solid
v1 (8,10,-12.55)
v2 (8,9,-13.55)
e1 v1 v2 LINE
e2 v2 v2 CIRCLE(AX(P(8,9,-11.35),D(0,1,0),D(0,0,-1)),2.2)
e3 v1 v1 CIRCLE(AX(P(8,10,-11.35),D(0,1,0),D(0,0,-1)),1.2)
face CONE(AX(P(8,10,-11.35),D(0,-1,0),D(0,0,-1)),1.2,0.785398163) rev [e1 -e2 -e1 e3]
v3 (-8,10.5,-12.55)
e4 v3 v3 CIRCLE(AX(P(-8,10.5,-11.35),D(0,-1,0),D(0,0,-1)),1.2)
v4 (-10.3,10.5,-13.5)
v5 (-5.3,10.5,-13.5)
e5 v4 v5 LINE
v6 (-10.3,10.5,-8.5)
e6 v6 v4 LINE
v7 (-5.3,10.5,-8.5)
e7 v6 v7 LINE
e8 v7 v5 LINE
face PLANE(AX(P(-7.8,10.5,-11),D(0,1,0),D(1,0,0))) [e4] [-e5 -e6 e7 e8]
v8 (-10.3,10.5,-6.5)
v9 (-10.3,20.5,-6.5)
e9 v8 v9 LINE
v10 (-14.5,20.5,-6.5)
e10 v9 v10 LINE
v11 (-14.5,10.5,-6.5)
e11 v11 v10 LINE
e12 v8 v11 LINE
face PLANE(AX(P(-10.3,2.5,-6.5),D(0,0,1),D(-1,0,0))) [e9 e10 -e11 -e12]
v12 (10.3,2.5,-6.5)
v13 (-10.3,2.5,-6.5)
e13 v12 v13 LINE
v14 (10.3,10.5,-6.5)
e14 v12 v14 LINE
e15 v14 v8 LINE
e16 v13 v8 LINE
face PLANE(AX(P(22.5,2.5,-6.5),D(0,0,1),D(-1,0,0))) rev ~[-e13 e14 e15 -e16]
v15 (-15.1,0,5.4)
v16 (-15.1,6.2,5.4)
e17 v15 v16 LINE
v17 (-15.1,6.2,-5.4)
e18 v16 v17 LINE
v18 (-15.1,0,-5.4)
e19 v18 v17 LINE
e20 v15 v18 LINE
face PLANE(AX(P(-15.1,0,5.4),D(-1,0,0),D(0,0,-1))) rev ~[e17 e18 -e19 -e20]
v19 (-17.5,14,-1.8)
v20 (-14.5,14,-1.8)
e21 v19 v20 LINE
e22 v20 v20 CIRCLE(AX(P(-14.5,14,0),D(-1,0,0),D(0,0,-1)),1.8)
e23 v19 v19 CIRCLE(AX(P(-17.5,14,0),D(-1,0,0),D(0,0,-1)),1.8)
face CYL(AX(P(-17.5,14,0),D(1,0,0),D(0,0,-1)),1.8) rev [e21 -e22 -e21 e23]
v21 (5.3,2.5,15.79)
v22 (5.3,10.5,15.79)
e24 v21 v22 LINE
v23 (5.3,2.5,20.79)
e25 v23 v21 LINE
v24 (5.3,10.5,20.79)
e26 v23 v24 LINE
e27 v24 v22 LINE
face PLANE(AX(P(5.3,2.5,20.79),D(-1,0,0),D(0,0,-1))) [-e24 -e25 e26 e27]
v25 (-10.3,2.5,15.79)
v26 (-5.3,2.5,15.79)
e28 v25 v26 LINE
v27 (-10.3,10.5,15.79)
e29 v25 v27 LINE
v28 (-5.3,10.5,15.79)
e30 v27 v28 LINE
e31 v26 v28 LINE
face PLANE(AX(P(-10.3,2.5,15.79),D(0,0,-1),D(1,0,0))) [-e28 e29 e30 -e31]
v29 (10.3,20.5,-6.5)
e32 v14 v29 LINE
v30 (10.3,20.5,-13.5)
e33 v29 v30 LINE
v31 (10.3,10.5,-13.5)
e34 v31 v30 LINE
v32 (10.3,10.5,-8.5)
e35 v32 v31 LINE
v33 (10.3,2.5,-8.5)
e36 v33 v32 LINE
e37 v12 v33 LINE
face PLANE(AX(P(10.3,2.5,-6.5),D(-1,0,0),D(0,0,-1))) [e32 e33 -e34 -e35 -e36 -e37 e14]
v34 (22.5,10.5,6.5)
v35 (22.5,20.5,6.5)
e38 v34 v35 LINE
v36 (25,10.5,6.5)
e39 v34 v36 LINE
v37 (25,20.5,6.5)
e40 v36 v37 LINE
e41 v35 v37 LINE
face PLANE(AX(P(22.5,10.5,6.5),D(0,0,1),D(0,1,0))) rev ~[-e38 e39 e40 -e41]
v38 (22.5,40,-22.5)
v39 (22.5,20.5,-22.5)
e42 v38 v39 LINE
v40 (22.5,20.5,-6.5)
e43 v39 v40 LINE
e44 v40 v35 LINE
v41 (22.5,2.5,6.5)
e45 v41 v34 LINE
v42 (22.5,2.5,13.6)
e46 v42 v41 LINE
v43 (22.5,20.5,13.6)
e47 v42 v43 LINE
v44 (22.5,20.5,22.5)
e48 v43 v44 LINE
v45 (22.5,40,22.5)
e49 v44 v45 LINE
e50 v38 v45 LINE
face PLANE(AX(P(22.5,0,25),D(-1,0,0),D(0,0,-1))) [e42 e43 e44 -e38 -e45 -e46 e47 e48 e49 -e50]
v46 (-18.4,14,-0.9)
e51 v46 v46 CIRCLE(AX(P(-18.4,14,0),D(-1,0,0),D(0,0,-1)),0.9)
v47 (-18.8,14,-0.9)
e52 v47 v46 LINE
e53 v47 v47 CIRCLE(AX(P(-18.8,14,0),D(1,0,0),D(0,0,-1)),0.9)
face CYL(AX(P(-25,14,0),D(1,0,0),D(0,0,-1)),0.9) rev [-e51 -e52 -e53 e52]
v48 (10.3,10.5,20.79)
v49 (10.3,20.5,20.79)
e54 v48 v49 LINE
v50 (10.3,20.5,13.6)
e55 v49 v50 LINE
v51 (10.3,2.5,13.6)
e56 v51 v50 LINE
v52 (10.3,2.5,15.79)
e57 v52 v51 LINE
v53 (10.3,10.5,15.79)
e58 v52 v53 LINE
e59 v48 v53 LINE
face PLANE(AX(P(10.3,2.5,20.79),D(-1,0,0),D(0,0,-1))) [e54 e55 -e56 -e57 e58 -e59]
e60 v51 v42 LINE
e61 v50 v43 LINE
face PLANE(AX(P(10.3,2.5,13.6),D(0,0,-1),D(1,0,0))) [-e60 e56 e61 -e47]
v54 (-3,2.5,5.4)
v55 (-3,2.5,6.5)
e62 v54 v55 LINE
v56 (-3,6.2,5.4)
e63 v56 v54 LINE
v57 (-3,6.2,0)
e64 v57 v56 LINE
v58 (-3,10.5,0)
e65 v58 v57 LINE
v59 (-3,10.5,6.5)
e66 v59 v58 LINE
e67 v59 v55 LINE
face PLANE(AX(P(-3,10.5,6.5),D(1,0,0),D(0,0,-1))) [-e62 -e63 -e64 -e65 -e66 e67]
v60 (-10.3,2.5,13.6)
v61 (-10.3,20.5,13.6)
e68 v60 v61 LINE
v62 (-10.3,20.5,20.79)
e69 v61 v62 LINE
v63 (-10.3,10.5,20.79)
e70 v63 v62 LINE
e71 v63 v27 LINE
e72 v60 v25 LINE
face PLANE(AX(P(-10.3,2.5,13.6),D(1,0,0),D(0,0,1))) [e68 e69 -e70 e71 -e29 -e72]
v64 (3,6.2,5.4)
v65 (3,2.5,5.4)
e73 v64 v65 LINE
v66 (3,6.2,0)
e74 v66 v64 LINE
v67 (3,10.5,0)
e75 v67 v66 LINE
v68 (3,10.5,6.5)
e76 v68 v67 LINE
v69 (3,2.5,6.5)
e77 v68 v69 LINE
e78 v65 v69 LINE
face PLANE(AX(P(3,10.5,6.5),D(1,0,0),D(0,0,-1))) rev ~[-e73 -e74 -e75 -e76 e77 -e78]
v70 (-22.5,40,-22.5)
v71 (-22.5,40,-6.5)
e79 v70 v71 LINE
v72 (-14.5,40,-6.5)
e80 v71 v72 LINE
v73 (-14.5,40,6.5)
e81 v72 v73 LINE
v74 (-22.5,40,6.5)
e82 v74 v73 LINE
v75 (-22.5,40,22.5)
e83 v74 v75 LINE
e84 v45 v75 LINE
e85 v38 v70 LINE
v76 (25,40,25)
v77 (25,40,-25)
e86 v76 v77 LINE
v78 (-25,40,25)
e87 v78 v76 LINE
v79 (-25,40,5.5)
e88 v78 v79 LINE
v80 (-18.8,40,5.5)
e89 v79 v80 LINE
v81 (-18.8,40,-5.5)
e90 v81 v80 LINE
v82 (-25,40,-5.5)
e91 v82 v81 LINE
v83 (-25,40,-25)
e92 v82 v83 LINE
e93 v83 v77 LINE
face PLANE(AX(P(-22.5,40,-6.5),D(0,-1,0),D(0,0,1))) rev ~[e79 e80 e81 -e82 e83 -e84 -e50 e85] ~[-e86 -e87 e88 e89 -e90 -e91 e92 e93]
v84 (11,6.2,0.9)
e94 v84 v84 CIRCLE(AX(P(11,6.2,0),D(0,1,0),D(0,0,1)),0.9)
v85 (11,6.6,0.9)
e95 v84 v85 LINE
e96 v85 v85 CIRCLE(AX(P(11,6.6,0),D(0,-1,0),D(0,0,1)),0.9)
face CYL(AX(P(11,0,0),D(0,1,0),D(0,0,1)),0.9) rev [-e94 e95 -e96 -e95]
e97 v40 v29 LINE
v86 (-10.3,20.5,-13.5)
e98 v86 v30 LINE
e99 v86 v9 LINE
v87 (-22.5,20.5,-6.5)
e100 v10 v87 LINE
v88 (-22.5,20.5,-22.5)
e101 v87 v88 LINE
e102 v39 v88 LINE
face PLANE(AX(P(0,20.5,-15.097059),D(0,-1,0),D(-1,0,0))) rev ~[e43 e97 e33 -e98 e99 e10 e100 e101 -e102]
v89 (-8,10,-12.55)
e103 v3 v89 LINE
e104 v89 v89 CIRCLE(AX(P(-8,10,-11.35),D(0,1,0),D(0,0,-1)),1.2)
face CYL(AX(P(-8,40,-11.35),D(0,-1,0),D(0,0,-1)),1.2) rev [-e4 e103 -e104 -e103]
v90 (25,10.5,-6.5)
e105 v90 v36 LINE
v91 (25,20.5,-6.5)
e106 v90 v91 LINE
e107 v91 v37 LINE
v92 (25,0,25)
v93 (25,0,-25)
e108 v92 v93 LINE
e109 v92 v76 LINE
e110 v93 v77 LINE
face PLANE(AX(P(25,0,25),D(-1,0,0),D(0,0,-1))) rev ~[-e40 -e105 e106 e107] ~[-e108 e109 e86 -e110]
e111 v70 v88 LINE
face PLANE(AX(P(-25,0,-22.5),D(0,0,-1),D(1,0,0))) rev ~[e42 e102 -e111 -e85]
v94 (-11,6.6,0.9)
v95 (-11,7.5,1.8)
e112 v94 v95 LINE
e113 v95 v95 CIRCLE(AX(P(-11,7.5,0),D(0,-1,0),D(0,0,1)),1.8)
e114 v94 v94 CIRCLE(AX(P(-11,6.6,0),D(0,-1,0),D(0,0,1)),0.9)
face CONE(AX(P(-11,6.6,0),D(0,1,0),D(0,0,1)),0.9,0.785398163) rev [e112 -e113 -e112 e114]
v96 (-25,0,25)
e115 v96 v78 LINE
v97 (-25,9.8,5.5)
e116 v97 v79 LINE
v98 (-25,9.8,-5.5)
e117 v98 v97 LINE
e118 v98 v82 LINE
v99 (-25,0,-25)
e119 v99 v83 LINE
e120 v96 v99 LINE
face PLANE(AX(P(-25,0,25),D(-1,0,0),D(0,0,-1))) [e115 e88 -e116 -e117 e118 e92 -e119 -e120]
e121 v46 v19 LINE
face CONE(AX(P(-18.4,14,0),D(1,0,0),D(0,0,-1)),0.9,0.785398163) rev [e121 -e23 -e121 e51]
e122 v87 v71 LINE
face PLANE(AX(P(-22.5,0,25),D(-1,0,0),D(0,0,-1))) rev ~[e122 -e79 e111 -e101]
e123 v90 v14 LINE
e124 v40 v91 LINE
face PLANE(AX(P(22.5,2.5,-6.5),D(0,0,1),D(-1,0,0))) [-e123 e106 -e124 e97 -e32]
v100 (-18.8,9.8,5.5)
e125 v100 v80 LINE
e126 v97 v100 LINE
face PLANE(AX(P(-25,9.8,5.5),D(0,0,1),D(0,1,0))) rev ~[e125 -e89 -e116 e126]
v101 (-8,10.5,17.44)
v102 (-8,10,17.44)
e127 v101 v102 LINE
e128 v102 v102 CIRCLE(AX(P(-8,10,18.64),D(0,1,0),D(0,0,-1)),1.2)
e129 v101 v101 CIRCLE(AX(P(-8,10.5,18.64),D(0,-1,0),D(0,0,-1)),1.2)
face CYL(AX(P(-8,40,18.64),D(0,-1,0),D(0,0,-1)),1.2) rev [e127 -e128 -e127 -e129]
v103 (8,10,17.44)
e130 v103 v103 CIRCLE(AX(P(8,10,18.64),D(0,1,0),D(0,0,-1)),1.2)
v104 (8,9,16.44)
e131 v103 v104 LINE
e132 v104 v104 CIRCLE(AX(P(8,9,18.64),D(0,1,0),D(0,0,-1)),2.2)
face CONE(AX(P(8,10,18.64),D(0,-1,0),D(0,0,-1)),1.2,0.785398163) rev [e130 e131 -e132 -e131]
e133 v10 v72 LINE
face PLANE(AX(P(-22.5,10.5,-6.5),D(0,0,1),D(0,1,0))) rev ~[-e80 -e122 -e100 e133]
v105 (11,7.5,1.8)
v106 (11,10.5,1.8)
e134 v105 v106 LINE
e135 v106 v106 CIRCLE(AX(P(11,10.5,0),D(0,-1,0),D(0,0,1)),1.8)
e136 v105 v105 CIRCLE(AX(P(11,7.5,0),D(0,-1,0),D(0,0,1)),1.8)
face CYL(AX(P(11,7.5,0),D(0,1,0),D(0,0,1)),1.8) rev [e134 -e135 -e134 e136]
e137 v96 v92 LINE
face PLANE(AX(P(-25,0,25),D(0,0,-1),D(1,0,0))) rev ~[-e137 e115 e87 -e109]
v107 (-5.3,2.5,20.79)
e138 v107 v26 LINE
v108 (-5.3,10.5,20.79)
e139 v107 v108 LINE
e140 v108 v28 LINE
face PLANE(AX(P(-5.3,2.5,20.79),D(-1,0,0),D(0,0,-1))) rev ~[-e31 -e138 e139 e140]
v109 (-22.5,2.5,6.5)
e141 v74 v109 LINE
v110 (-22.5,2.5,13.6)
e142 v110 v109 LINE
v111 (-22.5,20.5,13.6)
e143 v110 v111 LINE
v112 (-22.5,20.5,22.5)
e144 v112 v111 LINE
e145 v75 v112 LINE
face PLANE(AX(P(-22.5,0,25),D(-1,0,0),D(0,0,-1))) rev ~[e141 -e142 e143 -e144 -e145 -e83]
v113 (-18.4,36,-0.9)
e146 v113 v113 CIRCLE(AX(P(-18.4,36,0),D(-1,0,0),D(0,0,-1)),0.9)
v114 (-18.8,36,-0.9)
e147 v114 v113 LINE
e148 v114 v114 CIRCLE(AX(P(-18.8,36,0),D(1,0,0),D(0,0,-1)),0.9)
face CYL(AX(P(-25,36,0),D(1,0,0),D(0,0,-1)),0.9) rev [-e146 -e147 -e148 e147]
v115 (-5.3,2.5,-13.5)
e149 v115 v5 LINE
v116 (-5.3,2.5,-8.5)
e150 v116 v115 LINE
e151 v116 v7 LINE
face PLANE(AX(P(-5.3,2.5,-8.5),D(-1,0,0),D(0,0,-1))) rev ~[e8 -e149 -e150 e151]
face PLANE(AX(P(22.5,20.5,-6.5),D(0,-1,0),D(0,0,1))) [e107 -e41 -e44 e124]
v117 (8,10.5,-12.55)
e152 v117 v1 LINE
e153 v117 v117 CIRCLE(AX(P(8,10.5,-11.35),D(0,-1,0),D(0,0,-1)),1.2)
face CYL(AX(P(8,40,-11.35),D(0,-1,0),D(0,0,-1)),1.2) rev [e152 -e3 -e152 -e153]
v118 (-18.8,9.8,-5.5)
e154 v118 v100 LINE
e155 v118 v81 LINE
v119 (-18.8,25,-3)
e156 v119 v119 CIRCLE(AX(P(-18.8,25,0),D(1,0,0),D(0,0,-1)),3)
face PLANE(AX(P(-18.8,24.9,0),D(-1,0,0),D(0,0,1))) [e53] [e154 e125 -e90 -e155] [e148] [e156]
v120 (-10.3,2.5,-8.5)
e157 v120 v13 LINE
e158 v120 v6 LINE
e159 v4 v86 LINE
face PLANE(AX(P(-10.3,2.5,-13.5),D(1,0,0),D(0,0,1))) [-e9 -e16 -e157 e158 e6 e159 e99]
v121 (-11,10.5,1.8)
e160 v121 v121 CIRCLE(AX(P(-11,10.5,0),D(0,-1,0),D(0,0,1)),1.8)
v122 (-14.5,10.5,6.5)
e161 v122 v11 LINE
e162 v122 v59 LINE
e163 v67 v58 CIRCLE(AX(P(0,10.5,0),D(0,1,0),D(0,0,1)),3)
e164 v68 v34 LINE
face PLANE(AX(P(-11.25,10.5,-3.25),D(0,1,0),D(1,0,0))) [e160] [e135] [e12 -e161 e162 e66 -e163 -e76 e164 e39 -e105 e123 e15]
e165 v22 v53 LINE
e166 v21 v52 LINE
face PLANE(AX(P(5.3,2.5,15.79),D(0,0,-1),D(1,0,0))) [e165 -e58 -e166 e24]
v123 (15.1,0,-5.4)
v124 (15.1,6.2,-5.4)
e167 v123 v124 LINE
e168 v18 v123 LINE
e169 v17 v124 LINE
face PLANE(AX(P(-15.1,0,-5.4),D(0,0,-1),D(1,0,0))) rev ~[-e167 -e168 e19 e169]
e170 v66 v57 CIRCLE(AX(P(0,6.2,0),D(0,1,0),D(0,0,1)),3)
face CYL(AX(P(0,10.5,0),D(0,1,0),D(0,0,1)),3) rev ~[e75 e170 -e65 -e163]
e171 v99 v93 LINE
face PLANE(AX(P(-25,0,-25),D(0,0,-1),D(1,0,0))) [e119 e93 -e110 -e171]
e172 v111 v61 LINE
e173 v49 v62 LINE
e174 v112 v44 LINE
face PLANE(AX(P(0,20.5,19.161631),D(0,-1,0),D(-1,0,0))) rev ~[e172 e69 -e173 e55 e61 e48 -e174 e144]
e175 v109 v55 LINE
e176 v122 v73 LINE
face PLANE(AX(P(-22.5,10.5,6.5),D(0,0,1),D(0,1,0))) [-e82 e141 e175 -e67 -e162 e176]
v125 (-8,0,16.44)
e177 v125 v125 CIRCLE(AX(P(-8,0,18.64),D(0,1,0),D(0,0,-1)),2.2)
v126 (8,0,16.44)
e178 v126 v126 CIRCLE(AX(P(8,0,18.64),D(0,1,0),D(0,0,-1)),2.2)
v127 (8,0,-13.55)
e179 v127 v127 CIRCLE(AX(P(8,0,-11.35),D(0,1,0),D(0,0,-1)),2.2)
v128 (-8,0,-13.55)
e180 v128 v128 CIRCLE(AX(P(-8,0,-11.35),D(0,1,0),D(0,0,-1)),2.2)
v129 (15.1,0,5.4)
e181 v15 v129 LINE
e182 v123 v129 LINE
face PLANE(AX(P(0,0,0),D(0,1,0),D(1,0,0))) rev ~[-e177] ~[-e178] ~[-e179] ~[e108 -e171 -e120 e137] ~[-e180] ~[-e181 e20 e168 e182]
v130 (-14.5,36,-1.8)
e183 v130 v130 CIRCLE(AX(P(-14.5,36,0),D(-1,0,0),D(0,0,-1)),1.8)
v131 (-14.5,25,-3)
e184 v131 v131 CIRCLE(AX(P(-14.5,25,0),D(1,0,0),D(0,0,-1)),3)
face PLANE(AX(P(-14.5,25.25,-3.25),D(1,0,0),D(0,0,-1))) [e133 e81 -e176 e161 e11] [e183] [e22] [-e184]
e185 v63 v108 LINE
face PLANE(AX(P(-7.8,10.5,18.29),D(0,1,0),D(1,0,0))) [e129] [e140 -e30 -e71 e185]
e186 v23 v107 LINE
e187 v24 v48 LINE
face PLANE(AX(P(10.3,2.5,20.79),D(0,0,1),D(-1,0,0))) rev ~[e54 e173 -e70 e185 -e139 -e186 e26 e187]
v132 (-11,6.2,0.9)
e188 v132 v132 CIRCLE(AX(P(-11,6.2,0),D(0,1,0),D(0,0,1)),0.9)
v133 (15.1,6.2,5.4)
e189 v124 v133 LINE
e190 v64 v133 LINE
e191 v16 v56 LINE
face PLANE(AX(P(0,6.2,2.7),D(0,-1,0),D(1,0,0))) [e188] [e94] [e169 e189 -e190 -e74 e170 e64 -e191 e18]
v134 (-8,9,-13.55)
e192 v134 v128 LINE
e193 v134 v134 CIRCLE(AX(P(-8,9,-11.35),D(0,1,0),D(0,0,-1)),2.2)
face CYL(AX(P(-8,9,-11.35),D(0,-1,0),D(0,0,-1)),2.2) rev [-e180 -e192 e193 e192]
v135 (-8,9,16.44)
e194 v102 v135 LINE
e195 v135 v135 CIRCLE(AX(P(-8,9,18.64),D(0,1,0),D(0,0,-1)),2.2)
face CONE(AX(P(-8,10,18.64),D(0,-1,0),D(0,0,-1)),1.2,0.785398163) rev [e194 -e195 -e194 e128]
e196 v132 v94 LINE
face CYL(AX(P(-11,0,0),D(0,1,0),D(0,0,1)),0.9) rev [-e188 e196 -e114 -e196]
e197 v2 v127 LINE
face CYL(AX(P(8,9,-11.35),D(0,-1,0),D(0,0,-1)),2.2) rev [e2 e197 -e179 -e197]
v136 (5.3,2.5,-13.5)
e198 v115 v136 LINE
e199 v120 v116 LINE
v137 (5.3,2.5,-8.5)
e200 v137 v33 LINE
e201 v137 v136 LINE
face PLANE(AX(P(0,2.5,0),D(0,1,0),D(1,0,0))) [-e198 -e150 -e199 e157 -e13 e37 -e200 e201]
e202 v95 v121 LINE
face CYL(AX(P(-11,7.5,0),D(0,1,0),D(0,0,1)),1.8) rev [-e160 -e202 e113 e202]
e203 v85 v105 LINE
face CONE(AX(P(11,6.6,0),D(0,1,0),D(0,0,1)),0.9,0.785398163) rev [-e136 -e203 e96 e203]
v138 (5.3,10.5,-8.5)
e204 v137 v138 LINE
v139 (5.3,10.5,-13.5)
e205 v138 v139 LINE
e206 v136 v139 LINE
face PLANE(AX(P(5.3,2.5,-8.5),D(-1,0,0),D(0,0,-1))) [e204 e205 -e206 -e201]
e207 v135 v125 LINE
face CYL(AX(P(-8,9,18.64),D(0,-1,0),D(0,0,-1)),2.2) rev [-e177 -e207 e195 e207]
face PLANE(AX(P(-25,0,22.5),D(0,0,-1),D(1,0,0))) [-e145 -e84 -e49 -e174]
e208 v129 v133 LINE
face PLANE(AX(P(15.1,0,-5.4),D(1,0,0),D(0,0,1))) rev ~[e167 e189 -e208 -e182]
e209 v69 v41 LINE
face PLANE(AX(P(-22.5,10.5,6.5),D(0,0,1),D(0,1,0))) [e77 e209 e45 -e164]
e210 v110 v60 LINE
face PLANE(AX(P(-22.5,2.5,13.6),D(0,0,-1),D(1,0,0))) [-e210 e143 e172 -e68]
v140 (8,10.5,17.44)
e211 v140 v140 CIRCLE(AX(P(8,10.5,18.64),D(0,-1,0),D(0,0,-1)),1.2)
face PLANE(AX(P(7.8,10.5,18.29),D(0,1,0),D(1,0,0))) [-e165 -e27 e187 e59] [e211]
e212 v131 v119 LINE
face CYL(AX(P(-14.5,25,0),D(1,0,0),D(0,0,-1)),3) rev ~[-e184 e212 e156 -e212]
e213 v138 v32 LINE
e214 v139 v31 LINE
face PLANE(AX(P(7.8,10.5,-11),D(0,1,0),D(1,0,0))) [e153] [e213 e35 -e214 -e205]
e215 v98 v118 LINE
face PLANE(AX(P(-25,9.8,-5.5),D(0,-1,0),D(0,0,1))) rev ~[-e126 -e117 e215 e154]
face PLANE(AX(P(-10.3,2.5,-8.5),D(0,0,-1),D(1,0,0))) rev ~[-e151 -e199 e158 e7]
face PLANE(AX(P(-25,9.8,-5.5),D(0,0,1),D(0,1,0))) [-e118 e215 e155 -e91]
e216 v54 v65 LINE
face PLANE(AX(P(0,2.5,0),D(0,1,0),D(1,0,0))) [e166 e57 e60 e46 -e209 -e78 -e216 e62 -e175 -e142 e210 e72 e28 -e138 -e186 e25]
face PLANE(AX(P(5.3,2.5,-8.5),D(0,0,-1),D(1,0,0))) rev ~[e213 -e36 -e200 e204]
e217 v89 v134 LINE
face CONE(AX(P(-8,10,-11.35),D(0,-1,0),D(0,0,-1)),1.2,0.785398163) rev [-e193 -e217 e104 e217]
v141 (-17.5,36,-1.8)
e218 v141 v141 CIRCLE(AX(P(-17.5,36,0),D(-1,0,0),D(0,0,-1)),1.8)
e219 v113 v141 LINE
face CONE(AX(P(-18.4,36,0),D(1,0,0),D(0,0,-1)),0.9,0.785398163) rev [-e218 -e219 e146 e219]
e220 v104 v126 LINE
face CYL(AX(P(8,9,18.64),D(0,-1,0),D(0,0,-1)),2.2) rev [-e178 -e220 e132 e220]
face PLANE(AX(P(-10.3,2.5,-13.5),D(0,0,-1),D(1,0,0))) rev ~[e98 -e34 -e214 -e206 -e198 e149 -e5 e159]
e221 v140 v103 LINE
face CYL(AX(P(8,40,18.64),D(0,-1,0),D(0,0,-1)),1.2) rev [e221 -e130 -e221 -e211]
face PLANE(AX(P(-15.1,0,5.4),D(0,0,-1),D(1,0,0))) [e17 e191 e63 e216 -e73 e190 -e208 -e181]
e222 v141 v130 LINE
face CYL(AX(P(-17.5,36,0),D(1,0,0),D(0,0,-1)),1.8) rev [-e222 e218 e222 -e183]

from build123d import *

# Parameters (mm, degrees)
SKETCH1_W                                      = 50
SKETCH1_H                                      = 50
BOSS_EXTRUDE1_DEPTH                            = 40
SHELL1_T                                       = -2.5
BOSS_EXTRUDE5_DEPTH                            = 18
SKETCH17_W                                     = 22.5
SKETCH17_H                                     = 6.5
BOSS_EXTRUDE6_DEPTH                            = 8
SKETCH18_W                                     = 6.5
SKETCH18_H                                     = 29.5
BOSS_EXTRUDE7_DEPTH                            = 8
SKETCH19_W                                     = 11
SKETCH19_H                                     = 30.2
CUT_EXTRUDE5_DEPTH                             = 6.2
SKETCH20_W                                     = 30.2
SKETCH20_H                                     = 5.4
CUT_EXTRUDE6_DEPTH                             = 6.2
SKETCH21_W                                     = 5
SKETCH21_H                                     = 5
BOSS_EXTRUDE8_DEPTH                            = 8
CSK_SLOT_FOR_M1_6_COUNTERSUNK_FLAT_H_2_COUNT   = 2
CSK_SLOT_FOR_M1_6_COUNTERSUNK_FLAT_H_2_PITCH   = 22
SKETCH28_R                                     = 3
CUT_EXTRUDE7_DEPTH                             = 47.046172479
CSK_SLOT_FOR_M1_6_COUNTERSUNK_FLAT_H_3_A_COUNT = 2
CSK_SLOT_FOR_M1_6_COUNTERSUNK_FLAT_H_3_A_PITCH = 22
SKETCH32_R                                     = 3
CUT_EXTRUDE8_DEPTH                             = 62.524385409
CUT_EXTRUDE10_REACH                            = 48.046
SKETCH34_W                                     = 6
SKETCH34_H                                     = 6.5
SKETCH35_W                                     = 5
SKETCH35_H                                     = 5
BOSS_EXTRUDE9_DEPTH                            = 8
CSK_SLOT_FOR_M2_COUNTERSUNK_FLAT_HEA_2_COUNT   = 2
CSK_SLOT_FOR_M2_COUNTERSUNK_FLAT_HEA_2_PITCH   = 29.99
CSK_SLOT_FOR_M2_COUNTERSUNK_FLAT_HEA_3_COUNT   = 2
CSK_SLOT_FOR_M2_COUNTERSUNK_FLAT_HEA_3_PITCH   = 16
CSK_SLOT_FOR_M2_COUNTERSUNK_FLAT_HEA_4_COUNT   = 2
CSK_SLOT_FOR_M2_COUNTERSUNK_FLAT_HEA_4_PITCH   = 33.991176796
SKETCH38_W                                     = 13
SKETCH38_H                                     = 10
CUT_EXTRUDE11_DEPTH                            = 10


with BuildPart() as part:
    # Sketch1 → Boss-Extrude1 (new body)
    with BuildSketch(Plane(origin=(0, 0, 0), x_dir=(1, 0, 0), z_dir=(0, 1, 0))):
        Rectangle(SKETCH1_W, SKETCH1_H)
    extrude(amount=BOSS_EXTRUDE1_DEPTH)

    # Shell1
    shell1_openings = [part.faces().sort_by_distance(p)[0] for p in [
        (0, 40, 0),
    ]]
    offset(amount=SHELL1_T, openings=shell1_openings, kind=Kind.INTERSECTION)

    # Sketch16 → Boss-Extrude5 (add)
    with BuildSketch(Plane(origin=(0, 2.5, 0), x_dir=(1, 0, 0), z_dir=(0, 1, 0))):
        Polygon((-10.3, 6.5), (-22.5, 6.5), (-22.5, 22.5), (-5.169122612, 22.5), (22.5, 22.5), (22.5, 6.5), (10.3, 6.5), (10.3, 13.5), (-5.169122612, 13.5), (-10.3, 13.5), align=None)
        Polygon((10.3, -13.6), (22.5, -13.6), (22.5, -22.5), (-4.979068663, -22.5), (-22.5, -22.5), (-22.5, -13.6), (-10.3, -13.6), (-10.3, -20.79), (-4.979068663, -20.79), (10.3, -20.79), align=None)
    extrude(amount=BOSS_EXTRUDE5_DEPTH)

    # Sketch17 → Boss-Extrude6 (add)
    with BuildSketch(Plane(origin=(0, 2.5, 0), x_dir=(1, 0, 0), z_dir=(0, 1, 0))):
        Polygon((0, 0), (0, 6.5), (-10.3, 6.5), (-22.5, 6.5), (-22.5, 0), align=None)
        with Locations((-11.25, -3.25)):
            Rectangle(SKETCH17_W, SKETCH17_H)
        Polygon((10.3, 6.5), (0, 6.5), (0, 0), (0, -6.5), (22.5, -6.5), (22.5, 6.5), align=None)
    extrude(amount=BOSS_EXTRUDE6_DEPTH)

    # Sketch18 → Boss-Extrude7 (add)
    with BuildSketch(Plane(origin=(-22.5, 0, 0), x_dir=(0, 0, -1), z_dir=(1, 0, 0))):
        Polygon((6.5, 40), (0, 40), (0, 10.5), (6.5, 10.5), (6.5, 20.5), align=None)
        with Locations((-3.25, 25.25)):
            Rectangle(SKETCH18_W, SKETCH18_H)
    extrude(amount=BOSS_EXTRUDE7_DEPTH)

    # Sketch19 → Cut-Extrude5 (cut)
    with BuildSketch(Plane.ZY.offset(25)):
        with Locations((0, 24.9)):
            Rectangle(SKETCH19_W, SKETCH19_H)
    extrude(amount=-CUT_EXTRUDE5_DEPTH, mode=Mode.SUBTRACT)

    # Sketch20 → Cut-Extrude6 (cut)
    with BuildSketch(Plane.XZ):
        with Locations((0, 2.7)):
            Rectangle(SKETCH20_W, SKETCH20_H)
        with Locations((0, -2.7)):
            Rectangle(SKETCH20_W, SKETCH20_H)
    extrude(amount=-CUT_EXTRUDE6_DEPTH, mode=Mode.SUBTRACT)

    # Sketch21 → Boss-Extrude8 (add)
    with BuildSketch(Plane(origin=(0, 2.5, 0), x_dir=(1, 0, 0), z_dir=(0, 1, 0))):
        with Locations((7.8, -18.29)):
            Rectangle(SKETCH21_W, SKETCH21_H)
        with Locations((-7.8, -18.29)):
            Rectangle(SKETCH21_W, SKETCH21_H)
    extrude(amount=BOSS_EXTRUDE8_DEPTH)

    # Sketch26 → CSK SLOT for M1.6 Countersunk Flat Head (revolve, cut)
    with BuildSketch(Plane(origin=(-11, 10.5, 0), x_dir=(0, 0, 1), z_dir=(1, 0, 0))):
        Polygon((0, 0), (0, 10.5), (0.9, 10.5), (0.9, 3.9), (1.8, 3), (1.8, 0), align=None)
    csk_slot_for_m1_6_countersunk_flat_head = revolve(axis=Axis((-11, 16.85, 0), (0, -1, 0)), mode=Mode.SUBTRACT)

    # CSK SLOT for M1.6 Countersunk Flat H 2: CSK SLOT for M1.6 Countersunk Flat Head ×2
    with Locations(*[(i * CSK_SLOT_FOR_M1_6_COUNTERSUNK_FLAT_H_2_PITCH, 0, 0) for i in range(1, CSK_SLOT_FOR_M1_6_COUNTERSUNK_FLAT_H_2_COUNT)]):
        add(csk_slot_for_m1_6_countersunk_flat_head, mode=Mode.SUBTRACT)

    # Sketch28 → Cut-Extrude7 (cut, through all)
    with BuildSketch(Plane(origin=(0, 10.5, 0), x_dir=(1, 0, 0), z_dir=(0, 1, 0))):
        with Locations(Location((0, 0, 0), (0, 0, 270))):
            Circle(SKETCH28_R)
    extrude(amount=-CUT_EXTRUDE7_DEPTH, mode=Mode.SUBTRACT)

    # Sketch31 → CSK SLOT for M1.6 Countersunk Flat H 3 (revolve, cut)
    with BuildSketch(Plane(origin=(-14.5, 36, 0), x_dir=(0, 0, -1), z_dir=(0, 1, 0))):
        Polygon((0, 0), (0, 10.5), (0.9, 10.5), (0.9, 3.9), (1.8, 3), (1.8, 0), align=None)
    csk_slot_for_m1_6_countersunk_flat_h_3 = revolve(axis=Axis((-8.15, 36, 0), (-1, 0, 0)), mode=Mode.SUBTRACT)

    # CSK SLOT for M1.6 Countersunk Flat H 3 a: CSK SLOT for M1.6 Countersunk Flat H 3 ×2
    with Locations(*[(0, -i * CSK_SLOT_FOR_M1_6_COUNTERSUNK_FLAT_H_3_A_PITCH, 0) for i in range(1, CSK_SLOT_FOR_M1_6_COUNTERSUNK_FLAT_H_3_A_COUNT)]):
        add(csk_slot_for_m1_6_countersunk_flat_h_3, mode=Mode.SUBTRACT)

    # Sketch32 → Cut-Extrude8 (cut, through all)
    with BuildSketch(Plane(origin=(-14.5, 0, 0), x_dir=(0, 0, -1), z_dir=(1, 0, 0))):
        with Locations((0, 25)):
            Circle(SKETCH32_R)
    extrude(amount=-CUT_EXTRUDE8_DEPTH, mode=Mode.SUBTRACT)

    # Cut-Extrude10: up to this face of the body (flat: up to its plane)
    cut_extrude10_end = Plane(part.part.faces().sort_by_distance((0, 2.5, 11.597540384))[0])
    # Sketch34 → Cut-Extrude10 (cut, up to the picked face)
    with BuildSketch(Plane(origin=(0, 10.5, 0), x_dir=(1, 0, 0), z_dir=(0, 1, 0)), mode=Mode.PRIVATE) as cut_extrude10_sk1:
        with Locations((0, -3.25)):
            Rectangle(SKETCH34_W, SKETCH34_H)
    cut_extrude10_tool1 = split(extrude(cut_extrude10_sk1.sketch, amount=-CUT_EXTRUDE10_REACH, mode=Mode.PRIVATE), bisect_by=cut_extrude10_end, keep=Keep.BOTH, mode=Mode.PRIVATE)
    add(cut_extrude10_tool1.solids().sort_by(Axis((0, 10.5, 3.25), (0, -1, 0)))[0], mode=Mode.SUBTRACT)

    # Sketch35 → Boss-Extrude9 (add)
    with BuildSketch(Plane(origin=(0, 2.5, 0), x_dir=(1, 0, 0), z_dir=(0, 1, 0))):
        with Locations((-7.8, 11)):
            Rectangle(SKETCH35_W, SKETCH35_H)
        with Locations((7.8, 11)):
            Rectangle(SKETCH35_W, SKETCH35_H)
    extrude(amount=BOSS_EXTRUDE9_DEPTH)

    # Sketch37 → CSK SLOT for M2 Countersunk Flat Head Screw1 (revolve, cut)
    with BuildSketch(Plane(origin=(8, 0, 18.64), x_dir=(0, 0, -1), z_dir=(1, 0, 0))):
        Polygon((0, 0), (0, 40), (1.2, 40), (1.2, 10), (2.2, 9), (2.2, 0), align=None)
    csk_slot_for_m2_countersunk_flat_head_sc = revolve(axis=Axis((8, -6.35, 18.64), (0, 1, 0)), mode=Mode.SUBTRACT)

    # CSK SLOT for M2 Countersunk Flat Hea 2: CSK SLOT for M2 Countersunk Flat Head Screw1 ×2
    with Locations(*[(0, 0, -i * CSK_SLOT_FOR_M2_COUNTERSUNK_FLAT_HEA_2_PITCH) for i in range(1, CSK_SLOT_FOR_M2_COUNTERSUNK_FLAT_HEA_2_COUNT)]):
        add(csk_slot_for_m2_countersunk_flat_head_sc, mode=Mode.SUBTRACT)

    # CSK SLOT for M2 Countersunk Flat Hea 3: CSK SLOT for M2 Countersunk Flat Head Screw1 ×2
    with Locations(*[(-i * CSK_SLOT_FOR_M2_COUNTERSUNK_FLAT_HEA_3_PITCH, 0, 0) for i in range(1, CSK_SLOT_FOR_M2_COUNTERSUNK_FLAT_HEA_3_COUNT)]):
        add(csk_slot_for_m2_countersunk_flat_head_sc, mode=Mode.SUBTRACT)

    # CSK SLOT for M2 Countersunk Flat Hea 4: CSK SLOT for M2 Countersunk Flat Head Screw1 ×2
    with Locations(*[Vector(-0.47071038745922766, 0, -0.882287782493889) * (i * CSK_SLOT_FOR_M2_COUNTERSUNK_FLAT_HEA_4_PITCH) for i in range(1, CSK_SLOT_FOR_M2_COUNTERSUNK_FLAT_HEA_4_COUNT)]):
        add(csk_slot_for_m2_countersunk_flat_head_sc, mode=Mode.SUBTRACT)

    # Sketch38 → Cut-Extrude11 (cut)
    with BuildSketch(Plane.ZY.offset(-22.5)):
        with Locations((0, 15.5)):
            Rectangle(SKETCH38_W, SKETCH38_H)
    extrude(amount=-CUT_EXTRUDE11_DEPTH, mode=Mode.SUBTRACT)


solid = part.part
